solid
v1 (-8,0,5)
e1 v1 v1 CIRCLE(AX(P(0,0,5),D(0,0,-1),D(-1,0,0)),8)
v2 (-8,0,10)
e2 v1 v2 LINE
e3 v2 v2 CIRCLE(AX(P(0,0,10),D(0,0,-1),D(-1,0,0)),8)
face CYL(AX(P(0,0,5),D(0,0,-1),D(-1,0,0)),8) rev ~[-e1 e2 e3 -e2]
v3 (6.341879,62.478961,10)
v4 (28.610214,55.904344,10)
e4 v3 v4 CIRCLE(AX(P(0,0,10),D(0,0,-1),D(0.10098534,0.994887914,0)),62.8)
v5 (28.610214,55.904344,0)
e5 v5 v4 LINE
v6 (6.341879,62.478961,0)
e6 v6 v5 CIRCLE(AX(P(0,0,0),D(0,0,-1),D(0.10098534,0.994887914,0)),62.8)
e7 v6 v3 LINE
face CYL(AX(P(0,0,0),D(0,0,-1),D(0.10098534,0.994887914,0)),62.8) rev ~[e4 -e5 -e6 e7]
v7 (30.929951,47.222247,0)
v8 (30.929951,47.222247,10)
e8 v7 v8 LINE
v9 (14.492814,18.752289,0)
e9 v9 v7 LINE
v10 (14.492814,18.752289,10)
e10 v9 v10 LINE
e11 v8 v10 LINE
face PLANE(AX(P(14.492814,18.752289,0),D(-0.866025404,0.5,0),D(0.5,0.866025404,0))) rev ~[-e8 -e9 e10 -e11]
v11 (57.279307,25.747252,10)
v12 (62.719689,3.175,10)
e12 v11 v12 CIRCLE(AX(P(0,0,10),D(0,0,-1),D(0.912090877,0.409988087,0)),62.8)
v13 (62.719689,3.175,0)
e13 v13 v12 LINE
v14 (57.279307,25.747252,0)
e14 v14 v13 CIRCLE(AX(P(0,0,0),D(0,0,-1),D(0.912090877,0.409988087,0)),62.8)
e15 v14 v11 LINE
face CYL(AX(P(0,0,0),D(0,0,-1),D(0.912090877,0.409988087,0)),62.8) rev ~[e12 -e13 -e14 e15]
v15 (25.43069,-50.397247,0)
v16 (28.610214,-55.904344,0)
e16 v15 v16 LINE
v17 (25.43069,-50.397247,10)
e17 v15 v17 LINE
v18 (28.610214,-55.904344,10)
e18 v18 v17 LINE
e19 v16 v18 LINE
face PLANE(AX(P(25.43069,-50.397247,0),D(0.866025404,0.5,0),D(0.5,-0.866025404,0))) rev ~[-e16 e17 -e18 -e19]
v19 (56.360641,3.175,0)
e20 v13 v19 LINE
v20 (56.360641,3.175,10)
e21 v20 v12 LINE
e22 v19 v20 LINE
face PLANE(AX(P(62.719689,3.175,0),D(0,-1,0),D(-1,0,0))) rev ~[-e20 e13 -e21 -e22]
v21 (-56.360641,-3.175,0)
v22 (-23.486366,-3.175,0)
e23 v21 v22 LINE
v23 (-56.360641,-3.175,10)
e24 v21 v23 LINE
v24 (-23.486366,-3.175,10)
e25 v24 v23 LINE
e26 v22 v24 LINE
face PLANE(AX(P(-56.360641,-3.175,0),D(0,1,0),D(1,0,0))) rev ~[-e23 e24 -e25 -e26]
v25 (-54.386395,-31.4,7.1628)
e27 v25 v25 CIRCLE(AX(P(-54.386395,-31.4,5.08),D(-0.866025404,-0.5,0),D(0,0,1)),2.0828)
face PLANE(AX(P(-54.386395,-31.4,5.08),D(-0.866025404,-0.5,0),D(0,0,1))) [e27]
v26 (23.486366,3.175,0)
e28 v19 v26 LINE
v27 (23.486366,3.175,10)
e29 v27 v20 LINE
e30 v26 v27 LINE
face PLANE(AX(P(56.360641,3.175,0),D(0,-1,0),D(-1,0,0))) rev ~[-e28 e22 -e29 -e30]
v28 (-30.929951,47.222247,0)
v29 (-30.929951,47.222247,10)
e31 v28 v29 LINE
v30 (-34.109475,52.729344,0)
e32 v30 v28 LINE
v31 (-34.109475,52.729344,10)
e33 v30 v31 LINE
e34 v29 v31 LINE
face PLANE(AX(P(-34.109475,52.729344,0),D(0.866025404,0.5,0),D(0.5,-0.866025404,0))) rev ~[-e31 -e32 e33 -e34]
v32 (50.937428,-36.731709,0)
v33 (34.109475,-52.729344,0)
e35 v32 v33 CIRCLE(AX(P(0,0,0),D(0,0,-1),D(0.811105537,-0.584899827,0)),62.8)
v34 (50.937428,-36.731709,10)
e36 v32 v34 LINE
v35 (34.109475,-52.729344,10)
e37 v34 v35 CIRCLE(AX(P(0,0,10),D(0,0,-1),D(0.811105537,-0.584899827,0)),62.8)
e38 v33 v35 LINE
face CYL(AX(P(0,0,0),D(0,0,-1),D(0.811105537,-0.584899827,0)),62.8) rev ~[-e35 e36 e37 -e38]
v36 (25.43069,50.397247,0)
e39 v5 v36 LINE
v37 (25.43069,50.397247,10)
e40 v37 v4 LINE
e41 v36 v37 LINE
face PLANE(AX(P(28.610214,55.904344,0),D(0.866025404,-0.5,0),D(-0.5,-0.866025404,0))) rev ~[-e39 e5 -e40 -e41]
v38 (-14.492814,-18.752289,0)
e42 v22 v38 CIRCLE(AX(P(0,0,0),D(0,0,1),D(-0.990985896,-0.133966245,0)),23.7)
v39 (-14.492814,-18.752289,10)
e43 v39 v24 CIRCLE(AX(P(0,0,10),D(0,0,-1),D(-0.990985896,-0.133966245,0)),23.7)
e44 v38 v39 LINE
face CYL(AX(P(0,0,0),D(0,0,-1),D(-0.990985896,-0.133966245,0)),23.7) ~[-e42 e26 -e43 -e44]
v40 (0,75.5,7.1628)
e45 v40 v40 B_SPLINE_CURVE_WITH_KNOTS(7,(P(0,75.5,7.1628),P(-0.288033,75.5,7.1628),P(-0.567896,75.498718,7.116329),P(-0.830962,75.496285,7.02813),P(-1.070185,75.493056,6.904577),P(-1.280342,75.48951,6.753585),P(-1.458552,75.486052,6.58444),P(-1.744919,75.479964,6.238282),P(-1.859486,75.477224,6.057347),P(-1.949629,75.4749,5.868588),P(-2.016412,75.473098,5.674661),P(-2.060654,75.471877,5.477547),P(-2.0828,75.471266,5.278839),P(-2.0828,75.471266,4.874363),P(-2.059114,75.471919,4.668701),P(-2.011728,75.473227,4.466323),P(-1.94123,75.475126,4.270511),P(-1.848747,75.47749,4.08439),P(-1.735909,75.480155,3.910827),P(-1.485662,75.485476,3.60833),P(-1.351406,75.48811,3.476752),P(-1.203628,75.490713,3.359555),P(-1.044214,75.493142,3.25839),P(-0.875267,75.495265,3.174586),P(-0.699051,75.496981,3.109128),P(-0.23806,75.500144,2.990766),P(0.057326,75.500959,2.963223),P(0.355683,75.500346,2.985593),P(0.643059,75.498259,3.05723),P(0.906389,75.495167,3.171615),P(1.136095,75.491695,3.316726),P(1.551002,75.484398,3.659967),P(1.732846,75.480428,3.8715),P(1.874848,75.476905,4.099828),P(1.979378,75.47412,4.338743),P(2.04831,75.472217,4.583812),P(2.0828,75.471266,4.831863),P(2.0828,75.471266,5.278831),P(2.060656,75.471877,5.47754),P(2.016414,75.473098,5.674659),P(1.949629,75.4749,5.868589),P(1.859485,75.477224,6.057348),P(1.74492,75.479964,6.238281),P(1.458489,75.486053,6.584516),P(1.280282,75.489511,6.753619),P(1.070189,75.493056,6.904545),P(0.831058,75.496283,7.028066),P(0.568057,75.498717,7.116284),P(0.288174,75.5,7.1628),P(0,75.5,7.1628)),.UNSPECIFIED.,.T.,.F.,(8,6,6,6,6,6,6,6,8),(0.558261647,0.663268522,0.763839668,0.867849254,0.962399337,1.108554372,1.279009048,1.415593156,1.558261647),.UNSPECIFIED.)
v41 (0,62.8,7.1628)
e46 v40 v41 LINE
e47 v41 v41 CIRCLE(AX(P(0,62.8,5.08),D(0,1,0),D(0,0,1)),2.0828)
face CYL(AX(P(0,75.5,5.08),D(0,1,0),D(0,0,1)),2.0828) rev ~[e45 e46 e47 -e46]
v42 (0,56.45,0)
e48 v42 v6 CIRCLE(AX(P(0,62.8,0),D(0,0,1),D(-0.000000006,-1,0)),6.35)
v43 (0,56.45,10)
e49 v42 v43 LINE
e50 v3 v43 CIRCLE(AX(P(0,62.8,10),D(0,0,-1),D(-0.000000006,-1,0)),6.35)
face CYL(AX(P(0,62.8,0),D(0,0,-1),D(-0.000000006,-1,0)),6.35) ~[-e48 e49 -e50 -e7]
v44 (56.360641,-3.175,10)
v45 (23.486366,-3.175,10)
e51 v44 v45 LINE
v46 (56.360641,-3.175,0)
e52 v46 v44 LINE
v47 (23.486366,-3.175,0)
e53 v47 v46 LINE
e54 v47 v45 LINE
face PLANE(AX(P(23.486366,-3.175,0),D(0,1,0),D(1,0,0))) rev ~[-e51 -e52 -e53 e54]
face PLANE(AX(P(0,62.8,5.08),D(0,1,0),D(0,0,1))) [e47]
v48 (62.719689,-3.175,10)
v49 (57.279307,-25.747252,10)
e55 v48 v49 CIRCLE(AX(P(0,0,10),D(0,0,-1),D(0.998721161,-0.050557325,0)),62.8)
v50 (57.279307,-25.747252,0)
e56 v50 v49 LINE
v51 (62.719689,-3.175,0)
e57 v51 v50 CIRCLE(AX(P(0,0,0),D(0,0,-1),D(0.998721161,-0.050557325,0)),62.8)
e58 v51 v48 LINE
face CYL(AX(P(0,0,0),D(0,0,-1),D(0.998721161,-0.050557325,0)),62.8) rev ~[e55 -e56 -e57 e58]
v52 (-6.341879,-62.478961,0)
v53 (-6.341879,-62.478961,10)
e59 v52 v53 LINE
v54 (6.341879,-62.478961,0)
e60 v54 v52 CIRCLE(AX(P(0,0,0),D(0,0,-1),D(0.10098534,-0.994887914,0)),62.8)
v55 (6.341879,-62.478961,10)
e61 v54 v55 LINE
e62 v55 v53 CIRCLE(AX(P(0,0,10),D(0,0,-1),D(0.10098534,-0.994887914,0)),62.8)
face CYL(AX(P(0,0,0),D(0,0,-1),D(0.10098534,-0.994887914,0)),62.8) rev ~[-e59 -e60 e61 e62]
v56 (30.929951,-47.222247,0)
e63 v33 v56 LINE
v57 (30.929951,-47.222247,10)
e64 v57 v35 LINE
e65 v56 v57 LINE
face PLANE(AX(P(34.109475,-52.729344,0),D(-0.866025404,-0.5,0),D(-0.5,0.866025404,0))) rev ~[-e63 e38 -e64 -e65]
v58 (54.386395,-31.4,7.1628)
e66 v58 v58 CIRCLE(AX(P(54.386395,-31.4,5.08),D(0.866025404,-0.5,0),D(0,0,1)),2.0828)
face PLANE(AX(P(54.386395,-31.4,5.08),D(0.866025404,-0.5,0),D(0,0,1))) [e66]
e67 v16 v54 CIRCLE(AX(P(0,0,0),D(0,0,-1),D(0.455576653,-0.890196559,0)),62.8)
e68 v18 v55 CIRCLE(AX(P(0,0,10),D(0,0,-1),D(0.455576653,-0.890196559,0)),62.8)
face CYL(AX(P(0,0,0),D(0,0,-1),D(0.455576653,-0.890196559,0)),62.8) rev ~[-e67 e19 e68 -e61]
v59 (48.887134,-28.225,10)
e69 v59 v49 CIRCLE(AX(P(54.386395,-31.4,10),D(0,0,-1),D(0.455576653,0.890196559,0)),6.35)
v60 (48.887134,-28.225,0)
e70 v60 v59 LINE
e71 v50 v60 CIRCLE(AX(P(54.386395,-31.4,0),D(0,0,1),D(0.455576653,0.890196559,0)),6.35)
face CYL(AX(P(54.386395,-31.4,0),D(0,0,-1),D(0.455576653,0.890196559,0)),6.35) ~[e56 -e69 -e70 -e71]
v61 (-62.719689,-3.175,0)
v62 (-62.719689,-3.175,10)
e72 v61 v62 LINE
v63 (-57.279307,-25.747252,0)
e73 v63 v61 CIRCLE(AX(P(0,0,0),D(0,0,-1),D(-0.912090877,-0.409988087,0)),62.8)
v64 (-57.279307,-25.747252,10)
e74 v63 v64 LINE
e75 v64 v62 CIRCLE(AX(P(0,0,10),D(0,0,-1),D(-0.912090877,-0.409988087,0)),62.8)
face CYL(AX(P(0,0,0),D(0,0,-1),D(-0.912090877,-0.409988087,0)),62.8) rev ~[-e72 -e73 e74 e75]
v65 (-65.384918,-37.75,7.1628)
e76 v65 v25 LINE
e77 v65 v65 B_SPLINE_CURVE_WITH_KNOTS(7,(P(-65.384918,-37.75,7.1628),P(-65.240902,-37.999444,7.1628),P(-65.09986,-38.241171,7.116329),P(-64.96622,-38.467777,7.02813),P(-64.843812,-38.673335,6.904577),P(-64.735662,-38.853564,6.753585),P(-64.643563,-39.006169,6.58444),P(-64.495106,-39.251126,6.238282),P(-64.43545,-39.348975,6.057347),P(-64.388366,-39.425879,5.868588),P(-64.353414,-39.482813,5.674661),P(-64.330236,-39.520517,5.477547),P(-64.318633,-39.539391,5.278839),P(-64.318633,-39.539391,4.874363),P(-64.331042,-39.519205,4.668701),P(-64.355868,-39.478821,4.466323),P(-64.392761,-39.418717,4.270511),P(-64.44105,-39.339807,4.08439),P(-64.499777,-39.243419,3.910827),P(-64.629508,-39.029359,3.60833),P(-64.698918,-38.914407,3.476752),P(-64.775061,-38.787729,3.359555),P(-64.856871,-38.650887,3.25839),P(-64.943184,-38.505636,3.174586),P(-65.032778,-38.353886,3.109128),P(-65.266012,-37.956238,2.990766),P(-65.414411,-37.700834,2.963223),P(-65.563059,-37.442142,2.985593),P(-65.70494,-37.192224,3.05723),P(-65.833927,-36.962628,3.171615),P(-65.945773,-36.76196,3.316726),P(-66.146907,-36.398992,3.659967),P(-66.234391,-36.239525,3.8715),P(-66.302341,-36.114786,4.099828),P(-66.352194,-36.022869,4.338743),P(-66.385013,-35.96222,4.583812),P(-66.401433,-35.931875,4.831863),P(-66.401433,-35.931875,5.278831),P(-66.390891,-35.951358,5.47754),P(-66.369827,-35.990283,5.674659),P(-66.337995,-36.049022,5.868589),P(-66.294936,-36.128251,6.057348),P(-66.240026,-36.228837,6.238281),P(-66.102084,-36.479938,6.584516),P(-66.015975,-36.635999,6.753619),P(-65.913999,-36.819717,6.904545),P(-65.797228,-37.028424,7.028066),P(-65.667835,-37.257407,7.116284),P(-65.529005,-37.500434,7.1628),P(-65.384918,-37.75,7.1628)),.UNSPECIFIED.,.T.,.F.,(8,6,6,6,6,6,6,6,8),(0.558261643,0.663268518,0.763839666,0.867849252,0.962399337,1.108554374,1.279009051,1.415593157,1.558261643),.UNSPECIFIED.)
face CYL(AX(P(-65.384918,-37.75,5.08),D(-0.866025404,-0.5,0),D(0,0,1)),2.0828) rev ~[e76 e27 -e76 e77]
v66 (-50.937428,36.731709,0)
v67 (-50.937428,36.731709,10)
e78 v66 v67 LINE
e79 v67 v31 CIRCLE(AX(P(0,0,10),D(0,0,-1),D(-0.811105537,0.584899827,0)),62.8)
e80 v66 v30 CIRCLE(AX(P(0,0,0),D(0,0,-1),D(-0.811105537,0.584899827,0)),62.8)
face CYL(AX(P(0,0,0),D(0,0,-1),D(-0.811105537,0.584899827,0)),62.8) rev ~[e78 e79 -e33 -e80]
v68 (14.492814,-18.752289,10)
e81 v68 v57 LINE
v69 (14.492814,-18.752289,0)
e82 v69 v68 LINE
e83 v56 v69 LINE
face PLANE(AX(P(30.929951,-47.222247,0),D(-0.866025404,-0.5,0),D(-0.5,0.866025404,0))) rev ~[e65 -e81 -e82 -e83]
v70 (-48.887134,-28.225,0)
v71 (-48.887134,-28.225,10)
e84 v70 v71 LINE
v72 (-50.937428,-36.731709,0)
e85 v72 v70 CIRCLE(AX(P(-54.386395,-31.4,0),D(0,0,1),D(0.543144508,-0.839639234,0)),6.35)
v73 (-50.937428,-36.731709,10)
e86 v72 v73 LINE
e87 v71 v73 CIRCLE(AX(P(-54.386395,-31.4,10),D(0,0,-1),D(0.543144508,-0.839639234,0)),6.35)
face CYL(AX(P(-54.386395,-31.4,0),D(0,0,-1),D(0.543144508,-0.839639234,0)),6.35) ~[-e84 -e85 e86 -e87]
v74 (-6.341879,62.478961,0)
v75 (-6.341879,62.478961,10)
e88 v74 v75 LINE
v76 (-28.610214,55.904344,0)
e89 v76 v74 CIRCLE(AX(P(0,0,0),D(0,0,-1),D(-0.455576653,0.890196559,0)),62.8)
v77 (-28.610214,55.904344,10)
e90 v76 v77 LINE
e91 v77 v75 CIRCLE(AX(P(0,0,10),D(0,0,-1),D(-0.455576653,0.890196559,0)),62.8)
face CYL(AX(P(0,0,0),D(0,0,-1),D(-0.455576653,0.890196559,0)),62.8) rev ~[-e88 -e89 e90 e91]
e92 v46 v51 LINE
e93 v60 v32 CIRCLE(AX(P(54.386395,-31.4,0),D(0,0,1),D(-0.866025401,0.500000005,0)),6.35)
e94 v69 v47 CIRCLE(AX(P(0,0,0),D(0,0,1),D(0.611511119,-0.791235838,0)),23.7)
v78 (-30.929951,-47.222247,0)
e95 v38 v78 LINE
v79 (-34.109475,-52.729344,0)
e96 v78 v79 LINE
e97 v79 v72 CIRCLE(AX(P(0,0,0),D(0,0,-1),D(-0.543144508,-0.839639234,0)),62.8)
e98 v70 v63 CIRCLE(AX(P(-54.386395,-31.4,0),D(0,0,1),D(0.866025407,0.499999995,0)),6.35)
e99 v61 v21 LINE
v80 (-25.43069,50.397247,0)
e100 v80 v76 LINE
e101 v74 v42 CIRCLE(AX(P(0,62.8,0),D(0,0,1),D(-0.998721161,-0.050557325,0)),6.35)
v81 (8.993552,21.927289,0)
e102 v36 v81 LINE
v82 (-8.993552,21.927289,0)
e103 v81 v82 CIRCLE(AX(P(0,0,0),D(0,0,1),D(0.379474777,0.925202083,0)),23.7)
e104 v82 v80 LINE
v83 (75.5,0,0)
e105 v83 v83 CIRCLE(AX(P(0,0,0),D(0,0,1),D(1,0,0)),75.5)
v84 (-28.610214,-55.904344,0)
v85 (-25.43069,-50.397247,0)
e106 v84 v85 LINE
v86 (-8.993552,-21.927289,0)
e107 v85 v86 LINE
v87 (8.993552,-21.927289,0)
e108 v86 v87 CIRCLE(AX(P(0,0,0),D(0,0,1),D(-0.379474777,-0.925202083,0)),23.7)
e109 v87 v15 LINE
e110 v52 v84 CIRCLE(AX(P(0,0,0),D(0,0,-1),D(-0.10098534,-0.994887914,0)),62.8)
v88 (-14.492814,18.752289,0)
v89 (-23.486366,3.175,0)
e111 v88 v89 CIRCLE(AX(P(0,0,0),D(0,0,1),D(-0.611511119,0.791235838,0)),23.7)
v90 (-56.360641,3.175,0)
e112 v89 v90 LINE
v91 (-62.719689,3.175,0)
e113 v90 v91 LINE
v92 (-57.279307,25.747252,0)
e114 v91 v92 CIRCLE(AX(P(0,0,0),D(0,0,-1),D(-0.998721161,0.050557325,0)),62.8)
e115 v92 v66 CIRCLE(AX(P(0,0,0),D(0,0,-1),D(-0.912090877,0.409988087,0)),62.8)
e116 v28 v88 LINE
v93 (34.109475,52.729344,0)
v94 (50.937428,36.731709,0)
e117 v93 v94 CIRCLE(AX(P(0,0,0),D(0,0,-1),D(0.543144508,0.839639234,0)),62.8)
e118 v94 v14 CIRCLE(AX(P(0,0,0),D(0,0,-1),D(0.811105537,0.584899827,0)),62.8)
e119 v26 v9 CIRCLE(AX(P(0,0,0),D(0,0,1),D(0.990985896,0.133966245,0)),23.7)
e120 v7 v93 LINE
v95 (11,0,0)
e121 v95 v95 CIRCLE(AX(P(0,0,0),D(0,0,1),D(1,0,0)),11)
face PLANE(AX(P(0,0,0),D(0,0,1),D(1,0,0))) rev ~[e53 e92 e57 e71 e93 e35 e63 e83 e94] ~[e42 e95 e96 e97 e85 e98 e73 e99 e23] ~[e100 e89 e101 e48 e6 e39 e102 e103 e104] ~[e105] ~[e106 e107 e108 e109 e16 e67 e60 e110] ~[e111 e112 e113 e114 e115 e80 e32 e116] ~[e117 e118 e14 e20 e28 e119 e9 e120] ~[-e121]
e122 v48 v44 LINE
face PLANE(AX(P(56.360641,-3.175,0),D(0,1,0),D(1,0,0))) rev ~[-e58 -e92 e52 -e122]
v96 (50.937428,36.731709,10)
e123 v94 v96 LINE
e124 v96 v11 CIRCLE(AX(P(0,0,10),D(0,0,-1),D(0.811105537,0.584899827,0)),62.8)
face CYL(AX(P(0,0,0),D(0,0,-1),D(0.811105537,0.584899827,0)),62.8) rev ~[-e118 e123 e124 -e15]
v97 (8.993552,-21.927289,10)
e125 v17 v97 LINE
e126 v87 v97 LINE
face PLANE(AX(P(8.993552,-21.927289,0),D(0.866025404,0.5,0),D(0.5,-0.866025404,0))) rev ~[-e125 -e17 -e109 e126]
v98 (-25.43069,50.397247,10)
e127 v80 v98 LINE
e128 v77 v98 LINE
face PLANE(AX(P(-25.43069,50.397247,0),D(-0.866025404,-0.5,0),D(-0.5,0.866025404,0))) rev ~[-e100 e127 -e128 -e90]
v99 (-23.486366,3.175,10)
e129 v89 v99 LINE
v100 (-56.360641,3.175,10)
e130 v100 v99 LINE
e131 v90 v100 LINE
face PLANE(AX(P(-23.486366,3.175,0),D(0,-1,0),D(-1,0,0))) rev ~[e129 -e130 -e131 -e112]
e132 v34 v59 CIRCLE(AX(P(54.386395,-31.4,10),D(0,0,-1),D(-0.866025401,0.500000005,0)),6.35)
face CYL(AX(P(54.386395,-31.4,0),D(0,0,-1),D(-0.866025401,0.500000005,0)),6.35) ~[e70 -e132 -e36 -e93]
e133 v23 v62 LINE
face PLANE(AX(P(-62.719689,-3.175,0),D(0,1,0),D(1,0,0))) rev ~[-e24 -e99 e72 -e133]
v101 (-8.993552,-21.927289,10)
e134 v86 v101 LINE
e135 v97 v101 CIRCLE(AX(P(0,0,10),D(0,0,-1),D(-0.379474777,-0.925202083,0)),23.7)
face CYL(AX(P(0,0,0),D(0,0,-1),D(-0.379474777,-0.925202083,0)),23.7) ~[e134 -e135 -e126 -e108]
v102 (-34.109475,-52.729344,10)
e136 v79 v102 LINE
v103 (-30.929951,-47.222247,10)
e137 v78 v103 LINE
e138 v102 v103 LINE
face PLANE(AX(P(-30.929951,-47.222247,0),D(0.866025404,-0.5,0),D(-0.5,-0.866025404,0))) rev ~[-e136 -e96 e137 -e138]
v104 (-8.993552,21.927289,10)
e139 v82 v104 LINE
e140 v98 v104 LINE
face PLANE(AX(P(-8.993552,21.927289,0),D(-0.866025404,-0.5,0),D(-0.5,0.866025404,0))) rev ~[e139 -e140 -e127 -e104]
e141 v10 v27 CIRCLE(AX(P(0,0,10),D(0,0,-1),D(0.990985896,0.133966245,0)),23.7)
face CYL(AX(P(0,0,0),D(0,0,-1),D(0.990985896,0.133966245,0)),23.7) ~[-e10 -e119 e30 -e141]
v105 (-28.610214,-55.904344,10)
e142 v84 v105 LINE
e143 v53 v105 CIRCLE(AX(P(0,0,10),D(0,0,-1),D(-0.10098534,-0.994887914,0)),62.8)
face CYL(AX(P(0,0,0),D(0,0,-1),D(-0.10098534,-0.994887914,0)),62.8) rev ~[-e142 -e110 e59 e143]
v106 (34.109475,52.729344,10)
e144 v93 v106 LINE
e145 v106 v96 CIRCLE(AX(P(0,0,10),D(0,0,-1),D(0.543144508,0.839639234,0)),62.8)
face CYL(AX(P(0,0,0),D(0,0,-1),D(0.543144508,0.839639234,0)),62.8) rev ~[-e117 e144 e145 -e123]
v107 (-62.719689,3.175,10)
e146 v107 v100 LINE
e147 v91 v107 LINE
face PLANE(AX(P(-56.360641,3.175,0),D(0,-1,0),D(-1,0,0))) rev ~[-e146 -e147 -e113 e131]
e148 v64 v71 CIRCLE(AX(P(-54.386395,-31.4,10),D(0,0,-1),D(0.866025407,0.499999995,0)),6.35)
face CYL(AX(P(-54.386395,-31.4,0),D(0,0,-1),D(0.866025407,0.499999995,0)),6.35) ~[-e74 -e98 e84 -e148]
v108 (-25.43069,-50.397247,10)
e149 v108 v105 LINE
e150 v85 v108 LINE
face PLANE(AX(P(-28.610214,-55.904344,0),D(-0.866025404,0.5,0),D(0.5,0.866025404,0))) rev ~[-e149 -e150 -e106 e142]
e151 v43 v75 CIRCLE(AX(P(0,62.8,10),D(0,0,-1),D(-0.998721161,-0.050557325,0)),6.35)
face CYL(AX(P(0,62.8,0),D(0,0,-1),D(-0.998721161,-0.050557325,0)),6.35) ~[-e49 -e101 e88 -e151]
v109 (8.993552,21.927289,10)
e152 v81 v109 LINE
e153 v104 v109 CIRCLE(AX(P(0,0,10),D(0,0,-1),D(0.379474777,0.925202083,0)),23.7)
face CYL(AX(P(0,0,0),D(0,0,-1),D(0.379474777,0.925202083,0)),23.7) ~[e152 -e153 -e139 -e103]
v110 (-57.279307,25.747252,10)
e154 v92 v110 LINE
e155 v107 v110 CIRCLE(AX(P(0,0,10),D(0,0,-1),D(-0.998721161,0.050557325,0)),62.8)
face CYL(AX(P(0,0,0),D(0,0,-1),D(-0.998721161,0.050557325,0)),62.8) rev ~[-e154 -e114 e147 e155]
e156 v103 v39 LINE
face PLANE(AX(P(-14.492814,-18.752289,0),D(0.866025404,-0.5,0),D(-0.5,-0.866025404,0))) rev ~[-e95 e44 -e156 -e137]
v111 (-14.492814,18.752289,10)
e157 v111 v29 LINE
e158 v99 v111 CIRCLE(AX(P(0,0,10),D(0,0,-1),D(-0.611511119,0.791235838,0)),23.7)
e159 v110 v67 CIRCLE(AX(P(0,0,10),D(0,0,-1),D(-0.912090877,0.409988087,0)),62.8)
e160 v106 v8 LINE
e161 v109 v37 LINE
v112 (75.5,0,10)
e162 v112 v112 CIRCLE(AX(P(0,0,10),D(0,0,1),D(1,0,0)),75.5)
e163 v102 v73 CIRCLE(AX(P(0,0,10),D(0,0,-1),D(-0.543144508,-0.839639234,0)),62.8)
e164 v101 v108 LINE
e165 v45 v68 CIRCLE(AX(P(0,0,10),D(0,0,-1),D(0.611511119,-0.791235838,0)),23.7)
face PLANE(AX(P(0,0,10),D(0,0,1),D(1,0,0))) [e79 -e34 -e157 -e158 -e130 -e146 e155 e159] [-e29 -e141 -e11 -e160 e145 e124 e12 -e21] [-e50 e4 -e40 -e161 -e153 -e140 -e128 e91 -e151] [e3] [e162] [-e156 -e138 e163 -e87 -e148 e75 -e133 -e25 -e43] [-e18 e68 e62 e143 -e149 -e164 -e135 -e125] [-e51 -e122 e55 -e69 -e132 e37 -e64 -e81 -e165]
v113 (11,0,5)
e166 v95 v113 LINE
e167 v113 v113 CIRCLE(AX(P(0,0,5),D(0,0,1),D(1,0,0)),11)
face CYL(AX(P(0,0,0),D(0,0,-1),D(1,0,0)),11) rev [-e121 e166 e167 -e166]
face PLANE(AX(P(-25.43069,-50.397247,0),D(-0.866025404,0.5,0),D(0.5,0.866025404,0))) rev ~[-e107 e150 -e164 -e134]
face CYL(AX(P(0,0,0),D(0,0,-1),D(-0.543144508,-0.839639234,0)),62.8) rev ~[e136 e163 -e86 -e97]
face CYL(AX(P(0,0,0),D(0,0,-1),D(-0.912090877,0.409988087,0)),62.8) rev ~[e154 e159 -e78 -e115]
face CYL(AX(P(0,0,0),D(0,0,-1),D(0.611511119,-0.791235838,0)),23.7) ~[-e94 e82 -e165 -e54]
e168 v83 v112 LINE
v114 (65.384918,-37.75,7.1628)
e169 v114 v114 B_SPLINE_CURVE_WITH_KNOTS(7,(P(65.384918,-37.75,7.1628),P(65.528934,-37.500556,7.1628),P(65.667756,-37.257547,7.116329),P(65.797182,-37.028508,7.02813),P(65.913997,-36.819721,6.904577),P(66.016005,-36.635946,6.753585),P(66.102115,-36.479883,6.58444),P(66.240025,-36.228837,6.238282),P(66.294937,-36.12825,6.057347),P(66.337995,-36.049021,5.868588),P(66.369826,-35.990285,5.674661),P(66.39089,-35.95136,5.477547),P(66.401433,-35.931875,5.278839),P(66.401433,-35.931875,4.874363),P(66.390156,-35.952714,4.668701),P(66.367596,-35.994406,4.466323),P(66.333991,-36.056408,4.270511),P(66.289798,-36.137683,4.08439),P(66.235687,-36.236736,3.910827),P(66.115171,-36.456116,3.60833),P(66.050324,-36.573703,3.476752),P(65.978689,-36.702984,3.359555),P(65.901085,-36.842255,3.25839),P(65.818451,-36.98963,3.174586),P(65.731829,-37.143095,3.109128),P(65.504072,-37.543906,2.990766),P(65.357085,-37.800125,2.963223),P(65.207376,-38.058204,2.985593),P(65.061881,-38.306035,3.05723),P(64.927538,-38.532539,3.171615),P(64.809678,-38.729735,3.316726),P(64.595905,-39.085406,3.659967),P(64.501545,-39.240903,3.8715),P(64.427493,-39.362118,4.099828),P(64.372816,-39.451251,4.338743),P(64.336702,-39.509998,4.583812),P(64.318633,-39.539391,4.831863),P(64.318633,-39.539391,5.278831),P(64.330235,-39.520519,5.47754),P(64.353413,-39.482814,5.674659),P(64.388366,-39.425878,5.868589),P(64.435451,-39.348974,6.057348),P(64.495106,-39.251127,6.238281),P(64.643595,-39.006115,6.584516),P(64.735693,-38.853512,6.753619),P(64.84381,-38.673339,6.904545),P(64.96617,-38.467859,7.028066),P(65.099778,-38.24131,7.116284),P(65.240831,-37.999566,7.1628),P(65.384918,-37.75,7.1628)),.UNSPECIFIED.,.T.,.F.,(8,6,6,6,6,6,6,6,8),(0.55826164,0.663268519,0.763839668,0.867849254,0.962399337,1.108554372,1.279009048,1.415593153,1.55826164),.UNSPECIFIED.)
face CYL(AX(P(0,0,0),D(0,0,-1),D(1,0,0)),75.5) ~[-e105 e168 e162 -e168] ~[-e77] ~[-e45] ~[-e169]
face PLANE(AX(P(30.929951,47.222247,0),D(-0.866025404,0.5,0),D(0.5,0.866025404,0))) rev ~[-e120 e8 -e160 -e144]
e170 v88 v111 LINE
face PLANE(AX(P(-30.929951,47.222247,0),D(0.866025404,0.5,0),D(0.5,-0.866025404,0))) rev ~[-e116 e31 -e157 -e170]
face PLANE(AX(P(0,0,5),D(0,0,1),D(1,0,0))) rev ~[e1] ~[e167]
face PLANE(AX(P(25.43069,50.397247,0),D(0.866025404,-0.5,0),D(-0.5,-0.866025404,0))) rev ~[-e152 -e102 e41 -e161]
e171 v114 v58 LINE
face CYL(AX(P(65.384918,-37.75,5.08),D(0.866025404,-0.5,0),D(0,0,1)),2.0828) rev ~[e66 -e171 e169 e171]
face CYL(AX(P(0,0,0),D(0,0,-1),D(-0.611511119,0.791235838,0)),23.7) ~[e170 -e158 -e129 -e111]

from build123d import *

# Parameters (mm, degrees)
SKETCH1_R           = 75.5
BOSS_EXTRUDE1_DEPTH = 10
CUT_EXTRUDE1_START  = -10
SKETCH2_R           = 11
CUT_EXTRUDE1_DEPTH  = 5
SKETCH3_R           = 8
CUT_EXTRUDE2_DEPTH  = 107.890130508
SKETCH5_R           = 2.0828
CUT_EXTRUDE4_DEPTH  = 12.7
CIRPATTERN2_COUNT   = 3
CUT_EXTRUDE5_DEPTH  = 108.240384344
CIRPATTERN3_COUNT   = 6
CUT_EXTRUDE6_DEPTH  = 108.240384344
CIRPATTERN4_COUNT   = 3


with BuildPart() as part:
    # Sketch1 → Boss-Extrude1 (new body)
    with BuildSketch(Plane.XY):
        Circle(SKETCH1_R)
    extrude(amount=BOSS_EXTRUDE1_DEPTH)

    # Sketch2 → Cut-Extrude1 (cut)
    with BuildSketch(Plane.XY.offset(10).offset(CUT_EXTRUDE1_START)):
        Circle(SKETCH2_R)
    extrude(amount=CUT_EXTRUDE1_DEPTH, mode=Mode.SUBTRACT)

    # Sketch3 → Cut-Extrude2 (cut, through all)
    with BuildSketch(Plane(origin=(0, 0, 5), x_dir=(-1, 0, 0), z_dir=(0, 0, -1))):
        Circle(SKETCH3_R)
    extrude(amount=-CUT_EXTRUDE2_DEPTH, mode=Mode.SUBTRACT)

    # Sketch5 → Cut-Extrude4 (cut)
    with BuildSketch(Plane(origin=(0, 75.5, 0), x_dir=(1, 0, 0), z_dir=(0, 1, 0))):
        with Locations(Location((0, -5.08, 0), (0, 0, 270))):
            Circle(SKETCH5_R)
    cut_extrude4 = extrude(amount=-CUT_EXTRUDE4_DEPTH, mode=Mode.SUBTRACT)

    # CirPattern2: Cut-Extrude4 ×3 about axis
    cirpattern2_axis = Axis((0, 0, 0), (0, 0, 1))
    for i in range(1, CIRPATTERN2_COUNT):
        add(cut_extrude4.rotate(cirpattern2_axis, i * 360 / CIRPATTERN2_COUNT), mode=Mode.SUBTRACT)

    # Sketch6 → Cut-Extrude5 (cut, through all)
    with BuildSketch(Plane(origin=(0, 0, 0), x_dir=(-1, 0, 0), z_dir=(0, 0, -1))):
        with BuildLine():
            Line((-25.430689936, 50.397247041), (-8.993552206, 21.927289361))
            ThreePointArc((-8.993552206, 21.927289361), (0, 23.7), (8.993552206, 21.927289361))
            Line((8.993552206, 21.927289361), (25.430689936, 50.397247041))
            ThreePointArc((25.430689936, 50.397247041), (13.070537583, 54.915968054), (3.6e-08, 56.45))
            ThreePointArc((3.6e-08, 56.45), (-13.070537548, 54.915968062), (-25.430689936, 50.397247041))
        make_face()
        with BuildLine():
            ThreePointArc((3.6e-08, 56.45), (13.070537583, 54.915968054), (25.430689936, 50.397247041))
            Line((25.430689936, 50.397247041), (28.61021379, 55.9043439))
            ThreePointArc((28.61021379, 55.9043439), (17.78253642, 60.229738489), (6.341879371, 62.478960987))
            ThreePointArc((6.341879371, 62.478960987), (4.375151569, 58.197766982), (3.6e-08, 56.45))
        make_face()
        with BuildLine():
            Line((-28.61021379, 55.9043439), (-25.430689936, 50.397247041))
            ThreePointArc((-25.430689936, 50.397247041), (-13.070537548, 54.915968062), (3.6e-08, 56.45))
            ThreePointArc((3.6e-08, 56.45), (-4.375151542, 58.197766957), (-6.341879371, 62.478960987))
            ThreePointArc((-6.341879371, 62.478960987), (-17.78253642, 60.229738489), (-28.61021379, 55.9043439))
        make_face()
    cut_extrude5 = extrude(amount=-CUT_EXTRUDE5_DEPTH, mode=Mode.SUBTRACT)

    # CirPattern3: Cut-Extrude5 ×6 about axis
    cirpattern3_axis = Axis((0, 0, 0), (0, 0, 1))
    for i in range(1, CIRPATTERN3_COUNT):
        add(cut_extrude5.rotate(cirpattern3_axis, i * 360 / CIRPATTERN3_COUNT), mode=Mode.SUBTRACT)

    # Sketch8 → Cut-Extrude6 (cut, through all)
    with BuildSketch(Plane(origin=(0, 0, 0), x_dir=(-1, 0, 0), z_dir=(0, 0, -1))):
        with BuildLine():
            ThreePointArc((-57.279307102, 25.747251851), (-48.887134044, 28.225), (-50.937427732, 36.731709136))
            ThreePointArc((-50.937427732, 36.731709136), (-54.386395358, 31.4), (-57.279307102, 25.747251851))
        make_face()
    cut_extrude6 = extrude(amount=-CUT_EXTRUDE6_DEPTH, mode=Mode.SUBTRACT)

    # CirPattern4: Cut-Extrude6 ×3 about axis
    cirpattern4_axis = Axis((0, 0, 5), (0, 0, -1))
    for i in range(1, CIRPATTERN4_COUNT):
        add(cut_extrude6.rotate(cirpattern4_axis, i * 360 / CIRPATTERN4_COUNT), mode=Mode.SUBTRACT)


solid = part.part
